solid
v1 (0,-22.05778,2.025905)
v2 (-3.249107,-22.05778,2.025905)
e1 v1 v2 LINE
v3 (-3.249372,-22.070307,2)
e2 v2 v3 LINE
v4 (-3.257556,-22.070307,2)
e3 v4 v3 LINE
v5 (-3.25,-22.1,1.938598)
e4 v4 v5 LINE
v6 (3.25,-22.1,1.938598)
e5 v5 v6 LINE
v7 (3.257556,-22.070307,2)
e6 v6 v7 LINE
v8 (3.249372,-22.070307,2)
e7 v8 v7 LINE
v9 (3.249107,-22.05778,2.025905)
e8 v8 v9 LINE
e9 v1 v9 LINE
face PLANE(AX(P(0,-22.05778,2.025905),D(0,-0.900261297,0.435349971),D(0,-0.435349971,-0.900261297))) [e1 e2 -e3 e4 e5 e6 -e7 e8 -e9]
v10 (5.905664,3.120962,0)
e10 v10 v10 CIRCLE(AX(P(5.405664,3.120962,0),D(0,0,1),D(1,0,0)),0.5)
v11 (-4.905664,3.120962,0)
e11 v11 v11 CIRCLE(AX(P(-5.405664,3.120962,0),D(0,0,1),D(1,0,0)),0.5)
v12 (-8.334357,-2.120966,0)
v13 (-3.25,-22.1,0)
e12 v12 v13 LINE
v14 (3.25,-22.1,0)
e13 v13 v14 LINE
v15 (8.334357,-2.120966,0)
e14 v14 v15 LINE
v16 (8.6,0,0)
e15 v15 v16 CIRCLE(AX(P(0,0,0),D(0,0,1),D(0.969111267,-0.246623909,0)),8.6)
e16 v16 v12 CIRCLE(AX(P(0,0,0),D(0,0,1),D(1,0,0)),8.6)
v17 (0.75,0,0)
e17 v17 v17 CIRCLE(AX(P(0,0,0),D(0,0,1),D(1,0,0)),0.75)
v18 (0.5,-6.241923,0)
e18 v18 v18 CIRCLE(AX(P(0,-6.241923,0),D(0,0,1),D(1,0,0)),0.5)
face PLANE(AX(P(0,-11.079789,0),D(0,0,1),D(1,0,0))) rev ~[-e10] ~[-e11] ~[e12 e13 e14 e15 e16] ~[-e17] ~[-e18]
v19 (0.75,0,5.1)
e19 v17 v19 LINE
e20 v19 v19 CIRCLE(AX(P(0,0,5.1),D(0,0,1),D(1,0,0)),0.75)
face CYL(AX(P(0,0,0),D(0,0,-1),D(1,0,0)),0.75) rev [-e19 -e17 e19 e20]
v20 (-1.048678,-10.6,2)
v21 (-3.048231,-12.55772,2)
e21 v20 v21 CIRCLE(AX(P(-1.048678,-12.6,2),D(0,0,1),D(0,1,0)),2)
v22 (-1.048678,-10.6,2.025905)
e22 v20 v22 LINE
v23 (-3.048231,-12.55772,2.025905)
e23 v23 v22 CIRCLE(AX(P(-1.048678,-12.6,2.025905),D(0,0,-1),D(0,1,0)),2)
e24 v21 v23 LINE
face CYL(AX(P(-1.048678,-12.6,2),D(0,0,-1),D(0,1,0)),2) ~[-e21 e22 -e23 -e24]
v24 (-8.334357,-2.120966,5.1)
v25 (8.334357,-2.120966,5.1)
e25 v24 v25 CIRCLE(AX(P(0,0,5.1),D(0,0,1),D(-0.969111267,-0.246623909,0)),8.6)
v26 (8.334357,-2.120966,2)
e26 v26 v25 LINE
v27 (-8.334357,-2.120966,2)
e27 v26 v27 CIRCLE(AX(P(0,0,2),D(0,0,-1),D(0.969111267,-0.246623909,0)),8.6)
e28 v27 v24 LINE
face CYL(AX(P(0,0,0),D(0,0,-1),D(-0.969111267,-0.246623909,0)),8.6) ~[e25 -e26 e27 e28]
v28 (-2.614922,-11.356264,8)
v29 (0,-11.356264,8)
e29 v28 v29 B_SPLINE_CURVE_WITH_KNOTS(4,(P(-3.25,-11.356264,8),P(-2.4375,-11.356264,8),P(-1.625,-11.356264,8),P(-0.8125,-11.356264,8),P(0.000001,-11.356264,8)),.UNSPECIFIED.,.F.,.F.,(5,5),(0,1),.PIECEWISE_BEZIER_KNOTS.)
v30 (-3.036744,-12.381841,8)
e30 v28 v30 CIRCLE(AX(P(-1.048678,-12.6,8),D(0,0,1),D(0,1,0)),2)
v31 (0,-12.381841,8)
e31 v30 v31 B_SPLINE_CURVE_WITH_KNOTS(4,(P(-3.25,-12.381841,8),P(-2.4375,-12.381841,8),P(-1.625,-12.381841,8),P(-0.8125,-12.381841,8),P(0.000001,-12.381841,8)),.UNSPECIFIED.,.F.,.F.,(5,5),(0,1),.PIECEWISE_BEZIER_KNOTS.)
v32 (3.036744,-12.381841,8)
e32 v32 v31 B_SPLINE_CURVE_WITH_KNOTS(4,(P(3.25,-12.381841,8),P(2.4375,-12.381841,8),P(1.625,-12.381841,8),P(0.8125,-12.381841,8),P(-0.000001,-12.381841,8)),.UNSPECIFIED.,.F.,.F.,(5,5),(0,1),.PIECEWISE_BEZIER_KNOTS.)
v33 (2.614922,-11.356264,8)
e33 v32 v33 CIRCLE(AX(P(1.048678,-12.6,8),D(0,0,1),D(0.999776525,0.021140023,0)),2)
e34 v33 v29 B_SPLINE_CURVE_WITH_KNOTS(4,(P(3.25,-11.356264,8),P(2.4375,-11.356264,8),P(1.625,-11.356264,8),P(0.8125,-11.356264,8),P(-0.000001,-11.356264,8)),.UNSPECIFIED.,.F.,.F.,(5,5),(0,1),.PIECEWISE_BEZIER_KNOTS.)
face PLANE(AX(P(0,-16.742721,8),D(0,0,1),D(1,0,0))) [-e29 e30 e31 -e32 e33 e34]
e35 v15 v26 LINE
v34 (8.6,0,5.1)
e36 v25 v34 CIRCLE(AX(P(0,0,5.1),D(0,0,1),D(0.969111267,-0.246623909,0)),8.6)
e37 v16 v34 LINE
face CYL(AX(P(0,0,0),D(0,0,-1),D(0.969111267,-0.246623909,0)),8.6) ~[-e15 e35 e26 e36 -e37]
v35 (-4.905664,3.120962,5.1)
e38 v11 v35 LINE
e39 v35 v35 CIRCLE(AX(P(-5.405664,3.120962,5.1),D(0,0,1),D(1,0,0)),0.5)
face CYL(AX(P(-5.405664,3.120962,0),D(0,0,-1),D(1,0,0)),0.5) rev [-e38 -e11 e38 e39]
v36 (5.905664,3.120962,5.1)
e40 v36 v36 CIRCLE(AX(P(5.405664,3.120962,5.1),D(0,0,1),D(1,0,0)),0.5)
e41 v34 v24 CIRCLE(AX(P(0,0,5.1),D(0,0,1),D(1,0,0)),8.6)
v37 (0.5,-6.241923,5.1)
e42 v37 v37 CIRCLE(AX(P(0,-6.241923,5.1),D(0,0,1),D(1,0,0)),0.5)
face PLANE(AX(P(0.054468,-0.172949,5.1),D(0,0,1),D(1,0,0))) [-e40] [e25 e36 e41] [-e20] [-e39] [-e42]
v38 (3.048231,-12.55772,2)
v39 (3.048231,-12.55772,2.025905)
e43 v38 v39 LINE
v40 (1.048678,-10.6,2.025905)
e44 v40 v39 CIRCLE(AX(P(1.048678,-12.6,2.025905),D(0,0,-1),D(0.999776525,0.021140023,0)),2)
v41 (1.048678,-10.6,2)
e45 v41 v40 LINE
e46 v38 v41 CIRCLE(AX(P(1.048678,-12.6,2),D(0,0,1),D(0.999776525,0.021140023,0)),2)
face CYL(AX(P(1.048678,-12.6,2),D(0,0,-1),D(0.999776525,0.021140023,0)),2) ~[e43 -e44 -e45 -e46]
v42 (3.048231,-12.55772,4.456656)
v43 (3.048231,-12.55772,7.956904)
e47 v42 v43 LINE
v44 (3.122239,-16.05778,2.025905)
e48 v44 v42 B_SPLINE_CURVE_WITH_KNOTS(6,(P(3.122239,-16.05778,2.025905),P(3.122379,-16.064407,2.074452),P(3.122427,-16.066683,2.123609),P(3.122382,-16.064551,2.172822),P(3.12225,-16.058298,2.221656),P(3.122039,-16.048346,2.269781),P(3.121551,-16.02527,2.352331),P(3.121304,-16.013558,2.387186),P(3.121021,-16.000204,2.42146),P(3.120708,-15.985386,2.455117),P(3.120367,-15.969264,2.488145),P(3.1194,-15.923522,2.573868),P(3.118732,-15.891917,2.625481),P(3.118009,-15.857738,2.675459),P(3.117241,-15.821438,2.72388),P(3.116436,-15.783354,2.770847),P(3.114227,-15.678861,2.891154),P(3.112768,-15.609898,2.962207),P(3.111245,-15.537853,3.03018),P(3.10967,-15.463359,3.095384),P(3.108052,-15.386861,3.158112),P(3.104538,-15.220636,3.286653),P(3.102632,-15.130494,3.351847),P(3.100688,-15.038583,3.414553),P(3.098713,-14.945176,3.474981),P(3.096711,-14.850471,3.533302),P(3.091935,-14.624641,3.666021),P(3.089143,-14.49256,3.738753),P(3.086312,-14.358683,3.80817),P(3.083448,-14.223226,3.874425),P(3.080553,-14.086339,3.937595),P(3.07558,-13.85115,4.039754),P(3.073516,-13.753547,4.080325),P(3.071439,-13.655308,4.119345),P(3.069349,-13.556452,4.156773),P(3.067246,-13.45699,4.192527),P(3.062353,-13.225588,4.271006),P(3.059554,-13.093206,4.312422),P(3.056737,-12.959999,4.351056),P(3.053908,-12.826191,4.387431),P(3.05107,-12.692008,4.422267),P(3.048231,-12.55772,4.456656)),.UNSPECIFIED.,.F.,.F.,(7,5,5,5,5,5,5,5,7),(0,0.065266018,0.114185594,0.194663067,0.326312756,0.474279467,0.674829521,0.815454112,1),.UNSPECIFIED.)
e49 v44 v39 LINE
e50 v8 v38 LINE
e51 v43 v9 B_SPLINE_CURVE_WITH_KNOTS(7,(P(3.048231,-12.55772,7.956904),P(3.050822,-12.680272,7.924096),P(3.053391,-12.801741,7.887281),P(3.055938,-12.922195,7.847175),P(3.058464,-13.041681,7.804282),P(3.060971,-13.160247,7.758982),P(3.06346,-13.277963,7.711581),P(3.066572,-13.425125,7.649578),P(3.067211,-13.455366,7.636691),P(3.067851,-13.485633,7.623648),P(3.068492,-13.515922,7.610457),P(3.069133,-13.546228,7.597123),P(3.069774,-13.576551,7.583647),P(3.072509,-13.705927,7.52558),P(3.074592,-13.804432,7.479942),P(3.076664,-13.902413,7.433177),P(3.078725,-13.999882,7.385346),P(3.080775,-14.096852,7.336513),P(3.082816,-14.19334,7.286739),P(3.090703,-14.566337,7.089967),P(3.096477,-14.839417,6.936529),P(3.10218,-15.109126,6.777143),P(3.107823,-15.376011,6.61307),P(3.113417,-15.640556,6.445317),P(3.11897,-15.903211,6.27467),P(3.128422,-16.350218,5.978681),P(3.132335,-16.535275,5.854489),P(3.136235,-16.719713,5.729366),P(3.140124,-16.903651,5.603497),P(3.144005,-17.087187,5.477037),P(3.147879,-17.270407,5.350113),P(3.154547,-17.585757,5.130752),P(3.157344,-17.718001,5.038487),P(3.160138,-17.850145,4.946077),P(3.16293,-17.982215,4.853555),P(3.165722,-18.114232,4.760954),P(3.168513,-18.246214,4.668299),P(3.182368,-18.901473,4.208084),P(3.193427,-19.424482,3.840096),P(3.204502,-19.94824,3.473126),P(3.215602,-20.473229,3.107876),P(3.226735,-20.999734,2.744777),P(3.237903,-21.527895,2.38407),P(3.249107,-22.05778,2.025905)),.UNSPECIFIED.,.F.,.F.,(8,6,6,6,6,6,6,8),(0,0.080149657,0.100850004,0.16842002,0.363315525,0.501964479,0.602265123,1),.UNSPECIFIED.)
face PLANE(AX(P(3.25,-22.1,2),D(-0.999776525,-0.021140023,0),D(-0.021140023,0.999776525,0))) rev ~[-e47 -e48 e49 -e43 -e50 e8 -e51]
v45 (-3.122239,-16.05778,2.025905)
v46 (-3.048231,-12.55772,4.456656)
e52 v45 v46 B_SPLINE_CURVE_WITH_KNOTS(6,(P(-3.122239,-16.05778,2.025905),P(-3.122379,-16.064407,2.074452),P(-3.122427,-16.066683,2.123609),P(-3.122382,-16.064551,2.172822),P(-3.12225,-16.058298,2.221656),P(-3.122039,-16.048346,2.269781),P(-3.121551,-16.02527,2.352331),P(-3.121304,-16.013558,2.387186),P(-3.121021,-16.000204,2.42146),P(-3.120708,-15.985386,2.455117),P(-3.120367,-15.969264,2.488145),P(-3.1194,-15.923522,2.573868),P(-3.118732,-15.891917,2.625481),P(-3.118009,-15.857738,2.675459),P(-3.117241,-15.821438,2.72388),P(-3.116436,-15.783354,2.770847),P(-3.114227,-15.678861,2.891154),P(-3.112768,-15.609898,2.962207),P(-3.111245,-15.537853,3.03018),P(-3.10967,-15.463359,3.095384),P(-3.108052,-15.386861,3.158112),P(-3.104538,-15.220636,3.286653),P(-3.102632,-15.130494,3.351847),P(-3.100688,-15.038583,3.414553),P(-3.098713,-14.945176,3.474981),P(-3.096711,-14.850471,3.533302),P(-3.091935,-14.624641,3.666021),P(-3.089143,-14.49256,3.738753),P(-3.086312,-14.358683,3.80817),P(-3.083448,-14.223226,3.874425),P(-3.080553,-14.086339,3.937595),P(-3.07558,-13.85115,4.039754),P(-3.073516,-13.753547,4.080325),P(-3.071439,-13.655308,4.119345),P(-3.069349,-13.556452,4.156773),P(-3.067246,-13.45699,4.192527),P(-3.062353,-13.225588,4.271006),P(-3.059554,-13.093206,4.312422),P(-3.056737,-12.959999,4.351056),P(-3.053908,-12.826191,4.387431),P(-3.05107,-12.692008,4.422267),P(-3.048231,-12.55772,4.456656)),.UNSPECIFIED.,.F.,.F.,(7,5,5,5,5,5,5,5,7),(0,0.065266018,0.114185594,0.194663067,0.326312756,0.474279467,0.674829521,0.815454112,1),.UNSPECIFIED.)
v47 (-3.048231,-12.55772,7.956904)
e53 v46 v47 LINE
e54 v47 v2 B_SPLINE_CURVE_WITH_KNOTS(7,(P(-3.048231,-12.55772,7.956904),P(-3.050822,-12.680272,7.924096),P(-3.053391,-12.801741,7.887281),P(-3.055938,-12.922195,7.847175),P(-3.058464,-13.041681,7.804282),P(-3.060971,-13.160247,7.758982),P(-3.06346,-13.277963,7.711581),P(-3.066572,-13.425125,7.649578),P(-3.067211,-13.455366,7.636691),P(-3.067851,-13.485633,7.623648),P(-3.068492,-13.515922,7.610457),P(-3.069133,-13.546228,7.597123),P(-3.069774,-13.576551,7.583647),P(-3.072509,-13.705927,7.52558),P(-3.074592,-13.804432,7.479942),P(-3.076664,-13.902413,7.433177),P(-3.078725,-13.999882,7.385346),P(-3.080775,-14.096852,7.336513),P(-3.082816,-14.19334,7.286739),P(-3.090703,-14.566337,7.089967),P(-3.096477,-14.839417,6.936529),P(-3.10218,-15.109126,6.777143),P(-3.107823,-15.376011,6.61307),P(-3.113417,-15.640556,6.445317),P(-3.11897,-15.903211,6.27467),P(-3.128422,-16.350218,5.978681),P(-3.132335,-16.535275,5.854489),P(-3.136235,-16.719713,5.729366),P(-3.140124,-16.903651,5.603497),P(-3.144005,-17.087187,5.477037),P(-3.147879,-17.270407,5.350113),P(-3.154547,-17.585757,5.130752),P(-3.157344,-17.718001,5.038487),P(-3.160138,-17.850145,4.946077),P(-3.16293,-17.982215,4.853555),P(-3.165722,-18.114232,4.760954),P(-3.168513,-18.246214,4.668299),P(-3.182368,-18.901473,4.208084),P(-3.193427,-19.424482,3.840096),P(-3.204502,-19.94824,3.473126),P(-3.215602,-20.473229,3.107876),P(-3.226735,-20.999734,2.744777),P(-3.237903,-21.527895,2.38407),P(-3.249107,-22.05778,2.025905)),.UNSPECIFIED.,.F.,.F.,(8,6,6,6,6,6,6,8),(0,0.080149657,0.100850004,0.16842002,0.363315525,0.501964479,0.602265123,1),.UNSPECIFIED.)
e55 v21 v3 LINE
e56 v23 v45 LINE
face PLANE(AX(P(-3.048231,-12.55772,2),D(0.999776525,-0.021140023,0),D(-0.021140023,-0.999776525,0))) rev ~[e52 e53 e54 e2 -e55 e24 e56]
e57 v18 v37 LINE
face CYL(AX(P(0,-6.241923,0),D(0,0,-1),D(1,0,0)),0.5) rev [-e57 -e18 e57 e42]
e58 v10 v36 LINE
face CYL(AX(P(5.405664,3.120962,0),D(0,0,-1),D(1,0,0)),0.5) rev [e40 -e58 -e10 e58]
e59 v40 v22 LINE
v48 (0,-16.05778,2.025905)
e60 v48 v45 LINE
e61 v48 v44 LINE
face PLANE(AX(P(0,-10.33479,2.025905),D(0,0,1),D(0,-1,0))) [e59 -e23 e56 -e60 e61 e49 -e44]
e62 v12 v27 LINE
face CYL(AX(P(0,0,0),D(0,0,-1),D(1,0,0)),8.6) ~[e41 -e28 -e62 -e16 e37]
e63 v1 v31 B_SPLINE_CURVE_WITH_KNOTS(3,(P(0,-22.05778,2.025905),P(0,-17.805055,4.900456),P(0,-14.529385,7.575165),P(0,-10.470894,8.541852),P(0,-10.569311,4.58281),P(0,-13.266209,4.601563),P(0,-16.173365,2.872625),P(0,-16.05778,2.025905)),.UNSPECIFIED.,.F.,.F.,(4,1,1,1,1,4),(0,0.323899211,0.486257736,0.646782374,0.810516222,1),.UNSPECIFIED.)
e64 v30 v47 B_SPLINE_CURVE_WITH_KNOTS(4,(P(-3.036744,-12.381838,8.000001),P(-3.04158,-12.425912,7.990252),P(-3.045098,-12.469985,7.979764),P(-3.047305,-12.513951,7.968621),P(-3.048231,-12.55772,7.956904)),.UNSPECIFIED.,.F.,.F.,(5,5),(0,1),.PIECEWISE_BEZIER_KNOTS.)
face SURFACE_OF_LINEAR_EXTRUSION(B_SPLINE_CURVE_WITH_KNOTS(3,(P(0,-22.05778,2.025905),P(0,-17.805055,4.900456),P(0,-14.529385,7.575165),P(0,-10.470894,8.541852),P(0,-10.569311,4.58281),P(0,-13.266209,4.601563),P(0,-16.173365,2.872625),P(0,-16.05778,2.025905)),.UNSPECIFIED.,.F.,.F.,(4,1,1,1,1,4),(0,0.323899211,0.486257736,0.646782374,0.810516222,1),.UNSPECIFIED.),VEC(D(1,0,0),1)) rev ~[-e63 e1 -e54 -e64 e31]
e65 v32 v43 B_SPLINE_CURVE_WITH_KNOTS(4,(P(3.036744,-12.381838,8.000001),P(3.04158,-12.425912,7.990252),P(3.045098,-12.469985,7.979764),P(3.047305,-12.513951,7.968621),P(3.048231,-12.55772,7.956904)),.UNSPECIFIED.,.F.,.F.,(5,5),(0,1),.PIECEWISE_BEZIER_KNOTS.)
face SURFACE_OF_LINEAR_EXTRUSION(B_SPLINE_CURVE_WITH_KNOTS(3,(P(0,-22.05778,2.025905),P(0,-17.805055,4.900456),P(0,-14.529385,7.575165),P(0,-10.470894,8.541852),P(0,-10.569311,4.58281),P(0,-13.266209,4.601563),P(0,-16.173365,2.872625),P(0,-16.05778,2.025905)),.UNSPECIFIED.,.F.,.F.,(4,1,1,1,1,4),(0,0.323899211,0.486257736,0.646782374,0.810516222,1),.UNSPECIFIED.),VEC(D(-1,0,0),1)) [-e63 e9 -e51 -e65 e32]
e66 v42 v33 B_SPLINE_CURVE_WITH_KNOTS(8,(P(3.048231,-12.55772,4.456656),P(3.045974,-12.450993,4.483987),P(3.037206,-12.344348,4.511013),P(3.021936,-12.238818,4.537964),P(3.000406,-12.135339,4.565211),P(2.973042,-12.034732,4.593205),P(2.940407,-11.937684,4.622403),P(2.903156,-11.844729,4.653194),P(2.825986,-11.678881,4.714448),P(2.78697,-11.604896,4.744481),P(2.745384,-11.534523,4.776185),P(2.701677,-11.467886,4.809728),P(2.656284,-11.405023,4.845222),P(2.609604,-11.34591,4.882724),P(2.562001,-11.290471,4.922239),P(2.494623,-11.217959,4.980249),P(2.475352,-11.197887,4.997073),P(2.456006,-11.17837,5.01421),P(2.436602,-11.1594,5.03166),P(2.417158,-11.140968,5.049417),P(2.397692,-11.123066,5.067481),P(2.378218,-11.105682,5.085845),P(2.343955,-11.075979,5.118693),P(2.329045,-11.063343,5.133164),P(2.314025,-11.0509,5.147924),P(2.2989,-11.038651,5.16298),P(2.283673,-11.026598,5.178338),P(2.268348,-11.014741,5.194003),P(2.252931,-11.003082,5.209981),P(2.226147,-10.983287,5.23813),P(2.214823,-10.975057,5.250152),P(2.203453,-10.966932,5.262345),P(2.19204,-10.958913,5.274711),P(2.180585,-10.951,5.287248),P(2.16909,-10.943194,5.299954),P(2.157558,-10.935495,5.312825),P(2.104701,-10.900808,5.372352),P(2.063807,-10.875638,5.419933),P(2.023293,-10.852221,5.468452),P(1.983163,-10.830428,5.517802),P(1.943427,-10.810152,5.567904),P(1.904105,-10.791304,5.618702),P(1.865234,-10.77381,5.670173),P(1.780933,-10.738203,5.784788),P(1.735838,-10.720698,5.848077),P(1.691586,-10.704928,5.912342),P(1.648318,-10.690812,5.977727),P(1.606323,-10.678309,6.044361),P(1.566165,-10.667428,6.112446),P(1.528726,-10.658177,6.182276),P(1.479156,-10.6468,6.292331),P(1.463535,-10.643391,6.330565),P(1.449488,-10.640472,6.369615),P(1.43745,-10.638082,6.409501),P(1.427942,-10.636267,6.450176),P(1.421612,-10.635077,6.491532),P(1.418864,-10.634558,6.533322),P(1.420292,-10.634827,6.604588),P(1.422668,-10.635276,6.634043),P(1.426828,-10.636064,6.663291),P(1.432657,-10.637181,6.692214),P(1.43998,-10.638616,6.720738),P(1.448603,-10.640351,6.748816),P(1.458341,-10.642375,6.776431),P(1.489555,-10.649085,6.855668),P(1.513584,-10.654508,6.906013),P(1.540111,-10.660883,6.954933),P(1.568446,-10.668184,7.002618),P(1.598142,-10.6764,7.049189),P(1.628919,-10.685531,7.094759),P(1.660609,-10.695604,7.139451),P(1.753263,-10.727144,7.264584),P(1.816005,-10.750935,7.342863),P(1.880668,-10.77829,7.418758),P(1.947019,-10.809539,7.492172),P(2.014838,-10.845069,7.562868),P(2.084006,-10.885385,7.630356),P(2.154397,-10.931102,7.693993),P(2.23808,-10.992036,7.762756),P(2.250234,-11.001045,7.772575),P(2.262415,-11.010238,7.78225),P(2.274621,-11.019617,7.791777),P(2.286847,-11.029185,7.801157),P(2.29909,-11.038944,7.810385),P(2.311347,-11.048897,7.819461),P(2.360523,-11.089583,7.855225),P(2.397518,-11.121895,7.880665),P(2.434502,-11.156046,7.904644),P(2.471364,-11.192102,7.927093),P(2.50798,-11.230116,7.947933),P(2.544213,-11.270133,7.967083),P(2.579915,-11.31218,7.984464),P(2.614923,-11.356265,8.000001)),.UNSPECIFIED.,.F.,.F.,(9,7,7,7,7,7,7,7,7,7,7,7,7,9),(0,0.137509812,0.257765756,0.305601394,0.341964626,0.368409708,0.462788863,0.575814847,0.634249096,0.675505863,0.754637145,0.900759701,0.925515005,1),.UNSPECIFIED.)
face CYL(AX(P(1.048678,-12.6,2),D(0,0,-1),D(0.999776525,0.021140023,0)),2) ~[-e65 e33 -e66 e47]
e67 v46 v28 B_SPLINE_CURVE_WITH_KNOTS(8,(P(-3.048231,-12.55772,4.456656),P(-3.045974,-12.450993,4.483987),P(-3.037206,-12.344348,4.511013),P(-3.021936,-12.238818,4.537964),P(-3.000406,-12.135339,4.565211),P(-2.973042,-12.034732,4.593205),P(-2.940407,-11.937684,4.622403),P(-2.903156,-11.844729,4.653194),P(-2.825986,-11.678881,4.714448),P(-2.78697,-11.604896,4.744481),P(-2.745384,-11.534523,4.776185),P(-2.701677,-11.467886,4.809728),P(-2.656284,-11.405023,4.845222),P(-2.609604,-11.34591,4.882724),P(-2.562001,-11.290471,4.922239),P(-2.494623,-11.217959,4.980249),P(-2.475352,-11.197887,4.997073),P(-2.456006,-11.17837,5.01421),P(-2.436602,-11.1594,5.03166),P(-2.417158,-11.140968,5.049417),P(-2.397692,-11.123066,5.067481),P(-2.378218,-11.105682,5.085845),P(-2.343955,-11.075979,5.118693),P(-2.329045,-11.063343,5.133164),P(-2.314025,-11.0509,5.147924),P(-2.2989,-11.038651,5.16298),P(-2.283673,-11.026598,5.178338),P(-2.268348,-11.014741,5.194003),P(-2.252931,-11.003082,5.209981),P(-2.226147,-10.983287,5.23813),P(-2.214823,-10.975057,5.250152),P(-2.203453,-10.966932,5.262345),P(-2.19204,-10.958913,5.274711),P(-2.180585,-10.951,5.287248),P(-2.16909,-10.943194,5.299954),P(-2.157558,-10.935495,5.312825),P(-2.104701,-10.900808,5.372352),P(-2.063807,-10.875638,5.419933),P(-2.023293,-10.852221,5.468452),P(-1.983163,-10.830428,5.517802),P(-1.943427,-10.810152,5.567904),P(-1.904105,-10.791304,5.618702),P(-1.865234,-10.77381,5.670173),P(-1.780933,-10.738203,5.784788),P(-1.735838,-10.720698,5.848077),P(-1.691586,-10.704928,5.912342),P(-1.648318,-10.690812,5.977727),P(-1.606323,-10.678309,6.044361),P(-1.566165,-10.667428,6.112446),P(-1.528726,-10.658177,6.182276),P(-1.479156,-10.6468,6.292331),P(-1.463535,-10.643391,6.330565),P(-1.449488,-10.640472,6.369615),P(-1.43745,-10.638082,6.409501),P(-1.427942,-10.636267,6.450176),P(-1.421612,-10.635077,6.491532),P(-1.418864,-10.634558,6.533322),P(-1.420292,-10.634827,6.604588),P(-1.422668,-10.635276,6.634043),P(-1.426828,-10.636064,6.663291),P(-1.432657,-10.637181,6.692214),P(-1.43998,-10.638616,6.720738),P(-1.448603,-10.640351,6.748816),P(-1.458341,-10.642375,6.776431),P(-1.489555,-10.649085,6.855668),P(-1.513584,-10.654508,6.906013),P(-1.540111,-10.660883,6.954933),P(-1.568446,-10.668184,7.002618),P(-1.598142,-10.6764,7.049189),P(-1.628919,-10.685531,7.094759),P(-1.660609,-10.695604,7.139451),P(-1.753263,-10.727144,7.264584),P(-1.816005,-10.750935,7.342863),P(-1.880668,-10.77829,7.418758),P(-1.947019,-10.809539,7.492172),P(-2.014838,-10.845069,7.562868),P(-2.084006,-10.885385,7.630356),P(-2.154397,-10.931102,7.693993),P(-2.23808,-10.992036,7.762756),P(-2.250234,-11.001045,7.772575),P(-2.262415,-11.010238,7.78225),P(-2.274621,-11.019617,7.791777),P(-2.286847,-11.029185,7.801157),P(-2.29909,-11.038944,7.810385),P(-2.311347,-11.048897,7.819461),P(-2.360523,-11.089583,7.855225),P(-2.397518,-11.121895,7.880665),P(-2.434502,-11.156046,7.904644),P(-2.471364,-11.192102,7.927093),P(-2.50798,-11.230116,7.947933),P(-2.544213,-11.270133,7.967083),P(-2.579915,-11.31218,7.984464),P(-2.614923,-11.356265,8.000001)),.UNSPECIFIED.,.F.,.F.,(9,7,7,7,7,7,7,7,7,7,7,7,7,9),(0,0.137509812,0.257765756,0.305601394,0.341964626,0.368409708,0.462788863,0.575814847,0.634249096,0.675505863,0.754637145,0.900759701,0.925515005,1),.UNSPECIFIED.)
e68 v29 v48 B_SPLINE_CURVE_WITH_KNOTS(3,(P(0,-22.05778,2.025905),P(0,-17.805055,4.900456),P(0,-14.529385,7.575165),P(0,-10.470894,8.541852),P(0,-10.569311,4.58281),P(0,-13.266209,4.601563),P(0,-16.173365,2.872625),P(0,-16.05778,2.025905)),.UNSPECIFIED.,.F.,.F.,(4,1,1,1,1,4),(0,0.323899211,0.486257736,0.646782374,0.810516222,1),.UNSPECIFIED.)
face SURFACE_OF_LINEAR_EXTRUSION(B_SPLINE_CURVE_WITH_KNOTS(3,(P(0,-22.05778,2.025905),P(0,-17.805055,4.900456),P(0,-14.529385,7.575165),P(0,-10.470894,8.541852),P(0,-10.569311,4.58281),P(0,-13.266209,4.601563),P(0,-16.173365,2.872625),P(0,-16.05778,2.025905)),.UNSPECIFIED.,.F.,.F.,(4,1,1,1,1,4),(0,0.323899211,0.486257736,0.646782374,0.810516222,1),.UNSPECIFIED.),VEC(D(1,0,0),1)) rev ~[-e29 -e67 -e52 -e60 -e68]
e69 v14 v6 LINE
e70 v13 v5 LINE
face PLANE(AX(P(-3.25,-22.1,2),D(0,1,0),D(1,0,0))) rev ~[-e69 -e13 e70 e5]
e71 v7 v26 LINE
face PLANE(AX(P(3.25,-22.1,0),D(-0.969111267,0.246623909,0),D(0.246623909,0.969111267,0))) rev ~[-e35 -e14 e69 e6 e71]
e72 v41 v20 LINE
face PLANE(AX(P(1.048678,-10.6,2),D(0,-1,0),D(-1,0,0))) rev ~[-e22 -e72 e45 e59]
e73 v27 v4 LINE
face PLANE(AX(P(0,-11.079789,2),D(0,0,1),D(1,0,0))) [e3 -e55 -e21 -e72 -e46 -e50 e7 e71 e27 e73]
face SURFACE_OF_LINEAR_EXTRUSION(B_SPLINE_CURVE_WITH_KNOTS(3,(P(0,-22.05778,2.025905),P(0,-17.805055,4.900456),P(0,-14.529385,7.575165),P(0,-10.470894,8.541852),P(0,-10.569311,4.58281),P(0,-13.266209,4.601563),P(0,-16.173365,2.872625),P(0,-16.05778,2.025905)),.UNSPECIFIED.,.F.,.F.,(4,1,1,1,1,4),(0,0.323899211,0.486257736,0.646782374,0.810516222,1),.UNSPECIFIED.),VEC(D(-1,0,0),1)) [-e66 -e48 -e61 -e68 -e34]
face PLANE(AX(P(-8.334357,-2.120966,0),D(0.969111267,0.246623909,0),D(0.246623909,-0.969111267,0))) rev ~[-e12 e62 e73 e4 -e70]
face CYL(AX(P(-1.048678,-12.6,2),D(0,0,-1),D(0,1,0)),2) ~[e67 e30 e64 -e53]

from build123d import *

# Parameters (mm, degrees)
F0_R     = 0.5
F0_R_2   = 0.75
F1_DEPTH = 5.1
F2_DEPTH = 2
F4_DEPTH = 6
F6_DEPTH = 12.5


with BuildPart() as f1:
    # F0 (on Top) → F1 (new body)
    with BuildSketch(Plane.XY):
        with BuildLine():
            ThreePointArc((8.3343568954, -2.1209656149), (8.5333308063, -1.0687681459), (8.6, 0))
            ThreePointArc((8.6, 0), (-1.0687681459, 8.5333308063), (-8.3343568954, -2.1209656149))
            ThreePointArc((-8.3343568954, -2.1209656149), (0, -8.6), (8.3343568954, -2.1209656149))
        make_face()
        with Locations((-5.405664058, 3.1209615991)):
            Circle(F0_R, mode=Mode.SUBTRACT)
        with Locations((0, -6.2419231981)):
            Circle(F0_R, mode=Mode.SUBTRACT)
        Circle(F0_R_2, mode=Mode.SUBTRACT)
        with Locations((5.405664058, 3.1209615991)):
            Circle(F0_R, mode=Mode.SUBTRACT)
    extrude(amount=F1_DEPTH)

    # F0 (on Top) → F2 (join)
    with BuildSketch(Plane.XY):
        with BuildLine():
            ThreePointArc((8.3343568954, -2.1209656149), (0, -8.6), (-8.3343568954, -2.1209656149))
            Line((-8.3343568954, -2.1209656149), (-3.25, -22.1))
            Line((-3.25, -22.1), (3.25, -22.1))
            Line((3.25, -22.1), (8.3343568954, -2.1209656149))
        make_face()
    extrude(amount=F2_DEPTH)

    # F3 (on face) → F4 (join)
    with BuildSketch(Plane.XY.offset(2)):
        with BuildLine():
            Line((-3.0482308868, -12.5577199533), (-3.25, -22.1))
            Line((-3.25, -22.1), (3.25, -22.1))
            Line((3.25, -22.1), (3.0482308868, -12.5577199533))
            ThreePointArc((3.0482308868, -12.5577199533), (2.447863298, -11.1709163612), (1.0486778373, -10.6))
            Line((1.0486778373, -10.6), (-1.0486778373, -10.6))
            ThreePointArc((-1.0486778373, -10.6), (-2.447863298, -11.1709163612), (-3.0482308868, -12.5577199533))
        make_face()
    extrude(amount=F4_DEPTH)

    # F5 (on Right) → F6 (intersect, symmetric)
    with BuildSketch(Plane.YZ):
        with BuildLine():
            add(Edge.make_bspline(
                [(-22.0577802784, 2.0259046448), (-17.8050547421, 4.9004560213), (-14.5293847897, 7.5751652736), (-10.4708936119, 8.5418524459), (-10.5693109534, 4.5828096798), (-13.2662088909, 4.6015626195), (-16.1733651308, 2.8726245308), (-16.0577802784, 2.0259046448)],
                knots=[0, 0, 0, 0, 0.3238992112, 0.4862577355, 0.646782374, 0.8105162215, 1, 1, 1, 1], degree=3))
            Line((-22.0577802784, 2.0259046448), (-23.0374708772, 0))
            Line((-23.0374708772, 0), (-19.6792803642, -1.6239597866))
            Line((-19.6792803642, -1.6239597866), (11.3044586033, -3.4222211689))
            Line((11.3044586033, -3.4222211689), (11.6330533383, 2.2394104473))
            Line((11.6330533383, 2.2394104473), (9.3493293971, 8.4649659693))
            Line((9.3493293971, 8.4649659693), (-3.0461885035, 7.9566333443))
            Line((-3.0461885035, 7.9566333443), (-9.4479173422, 6.1554415151))
            Line((-9.4479173422, 6.1554415151), (-9.5424316823, 4.2449091561))
            Line((-9.5424316823, 4.2449091561), (-10.334789753, 2.0259046448))
            Line((-10.334789753, 2.0259046448), (-16.0577802784, 2.0259046448))
        make_face()
    extrude(amount=F6_DEPTH, both=True, mode=Mode.INTERSECT)


solid = f1.part
